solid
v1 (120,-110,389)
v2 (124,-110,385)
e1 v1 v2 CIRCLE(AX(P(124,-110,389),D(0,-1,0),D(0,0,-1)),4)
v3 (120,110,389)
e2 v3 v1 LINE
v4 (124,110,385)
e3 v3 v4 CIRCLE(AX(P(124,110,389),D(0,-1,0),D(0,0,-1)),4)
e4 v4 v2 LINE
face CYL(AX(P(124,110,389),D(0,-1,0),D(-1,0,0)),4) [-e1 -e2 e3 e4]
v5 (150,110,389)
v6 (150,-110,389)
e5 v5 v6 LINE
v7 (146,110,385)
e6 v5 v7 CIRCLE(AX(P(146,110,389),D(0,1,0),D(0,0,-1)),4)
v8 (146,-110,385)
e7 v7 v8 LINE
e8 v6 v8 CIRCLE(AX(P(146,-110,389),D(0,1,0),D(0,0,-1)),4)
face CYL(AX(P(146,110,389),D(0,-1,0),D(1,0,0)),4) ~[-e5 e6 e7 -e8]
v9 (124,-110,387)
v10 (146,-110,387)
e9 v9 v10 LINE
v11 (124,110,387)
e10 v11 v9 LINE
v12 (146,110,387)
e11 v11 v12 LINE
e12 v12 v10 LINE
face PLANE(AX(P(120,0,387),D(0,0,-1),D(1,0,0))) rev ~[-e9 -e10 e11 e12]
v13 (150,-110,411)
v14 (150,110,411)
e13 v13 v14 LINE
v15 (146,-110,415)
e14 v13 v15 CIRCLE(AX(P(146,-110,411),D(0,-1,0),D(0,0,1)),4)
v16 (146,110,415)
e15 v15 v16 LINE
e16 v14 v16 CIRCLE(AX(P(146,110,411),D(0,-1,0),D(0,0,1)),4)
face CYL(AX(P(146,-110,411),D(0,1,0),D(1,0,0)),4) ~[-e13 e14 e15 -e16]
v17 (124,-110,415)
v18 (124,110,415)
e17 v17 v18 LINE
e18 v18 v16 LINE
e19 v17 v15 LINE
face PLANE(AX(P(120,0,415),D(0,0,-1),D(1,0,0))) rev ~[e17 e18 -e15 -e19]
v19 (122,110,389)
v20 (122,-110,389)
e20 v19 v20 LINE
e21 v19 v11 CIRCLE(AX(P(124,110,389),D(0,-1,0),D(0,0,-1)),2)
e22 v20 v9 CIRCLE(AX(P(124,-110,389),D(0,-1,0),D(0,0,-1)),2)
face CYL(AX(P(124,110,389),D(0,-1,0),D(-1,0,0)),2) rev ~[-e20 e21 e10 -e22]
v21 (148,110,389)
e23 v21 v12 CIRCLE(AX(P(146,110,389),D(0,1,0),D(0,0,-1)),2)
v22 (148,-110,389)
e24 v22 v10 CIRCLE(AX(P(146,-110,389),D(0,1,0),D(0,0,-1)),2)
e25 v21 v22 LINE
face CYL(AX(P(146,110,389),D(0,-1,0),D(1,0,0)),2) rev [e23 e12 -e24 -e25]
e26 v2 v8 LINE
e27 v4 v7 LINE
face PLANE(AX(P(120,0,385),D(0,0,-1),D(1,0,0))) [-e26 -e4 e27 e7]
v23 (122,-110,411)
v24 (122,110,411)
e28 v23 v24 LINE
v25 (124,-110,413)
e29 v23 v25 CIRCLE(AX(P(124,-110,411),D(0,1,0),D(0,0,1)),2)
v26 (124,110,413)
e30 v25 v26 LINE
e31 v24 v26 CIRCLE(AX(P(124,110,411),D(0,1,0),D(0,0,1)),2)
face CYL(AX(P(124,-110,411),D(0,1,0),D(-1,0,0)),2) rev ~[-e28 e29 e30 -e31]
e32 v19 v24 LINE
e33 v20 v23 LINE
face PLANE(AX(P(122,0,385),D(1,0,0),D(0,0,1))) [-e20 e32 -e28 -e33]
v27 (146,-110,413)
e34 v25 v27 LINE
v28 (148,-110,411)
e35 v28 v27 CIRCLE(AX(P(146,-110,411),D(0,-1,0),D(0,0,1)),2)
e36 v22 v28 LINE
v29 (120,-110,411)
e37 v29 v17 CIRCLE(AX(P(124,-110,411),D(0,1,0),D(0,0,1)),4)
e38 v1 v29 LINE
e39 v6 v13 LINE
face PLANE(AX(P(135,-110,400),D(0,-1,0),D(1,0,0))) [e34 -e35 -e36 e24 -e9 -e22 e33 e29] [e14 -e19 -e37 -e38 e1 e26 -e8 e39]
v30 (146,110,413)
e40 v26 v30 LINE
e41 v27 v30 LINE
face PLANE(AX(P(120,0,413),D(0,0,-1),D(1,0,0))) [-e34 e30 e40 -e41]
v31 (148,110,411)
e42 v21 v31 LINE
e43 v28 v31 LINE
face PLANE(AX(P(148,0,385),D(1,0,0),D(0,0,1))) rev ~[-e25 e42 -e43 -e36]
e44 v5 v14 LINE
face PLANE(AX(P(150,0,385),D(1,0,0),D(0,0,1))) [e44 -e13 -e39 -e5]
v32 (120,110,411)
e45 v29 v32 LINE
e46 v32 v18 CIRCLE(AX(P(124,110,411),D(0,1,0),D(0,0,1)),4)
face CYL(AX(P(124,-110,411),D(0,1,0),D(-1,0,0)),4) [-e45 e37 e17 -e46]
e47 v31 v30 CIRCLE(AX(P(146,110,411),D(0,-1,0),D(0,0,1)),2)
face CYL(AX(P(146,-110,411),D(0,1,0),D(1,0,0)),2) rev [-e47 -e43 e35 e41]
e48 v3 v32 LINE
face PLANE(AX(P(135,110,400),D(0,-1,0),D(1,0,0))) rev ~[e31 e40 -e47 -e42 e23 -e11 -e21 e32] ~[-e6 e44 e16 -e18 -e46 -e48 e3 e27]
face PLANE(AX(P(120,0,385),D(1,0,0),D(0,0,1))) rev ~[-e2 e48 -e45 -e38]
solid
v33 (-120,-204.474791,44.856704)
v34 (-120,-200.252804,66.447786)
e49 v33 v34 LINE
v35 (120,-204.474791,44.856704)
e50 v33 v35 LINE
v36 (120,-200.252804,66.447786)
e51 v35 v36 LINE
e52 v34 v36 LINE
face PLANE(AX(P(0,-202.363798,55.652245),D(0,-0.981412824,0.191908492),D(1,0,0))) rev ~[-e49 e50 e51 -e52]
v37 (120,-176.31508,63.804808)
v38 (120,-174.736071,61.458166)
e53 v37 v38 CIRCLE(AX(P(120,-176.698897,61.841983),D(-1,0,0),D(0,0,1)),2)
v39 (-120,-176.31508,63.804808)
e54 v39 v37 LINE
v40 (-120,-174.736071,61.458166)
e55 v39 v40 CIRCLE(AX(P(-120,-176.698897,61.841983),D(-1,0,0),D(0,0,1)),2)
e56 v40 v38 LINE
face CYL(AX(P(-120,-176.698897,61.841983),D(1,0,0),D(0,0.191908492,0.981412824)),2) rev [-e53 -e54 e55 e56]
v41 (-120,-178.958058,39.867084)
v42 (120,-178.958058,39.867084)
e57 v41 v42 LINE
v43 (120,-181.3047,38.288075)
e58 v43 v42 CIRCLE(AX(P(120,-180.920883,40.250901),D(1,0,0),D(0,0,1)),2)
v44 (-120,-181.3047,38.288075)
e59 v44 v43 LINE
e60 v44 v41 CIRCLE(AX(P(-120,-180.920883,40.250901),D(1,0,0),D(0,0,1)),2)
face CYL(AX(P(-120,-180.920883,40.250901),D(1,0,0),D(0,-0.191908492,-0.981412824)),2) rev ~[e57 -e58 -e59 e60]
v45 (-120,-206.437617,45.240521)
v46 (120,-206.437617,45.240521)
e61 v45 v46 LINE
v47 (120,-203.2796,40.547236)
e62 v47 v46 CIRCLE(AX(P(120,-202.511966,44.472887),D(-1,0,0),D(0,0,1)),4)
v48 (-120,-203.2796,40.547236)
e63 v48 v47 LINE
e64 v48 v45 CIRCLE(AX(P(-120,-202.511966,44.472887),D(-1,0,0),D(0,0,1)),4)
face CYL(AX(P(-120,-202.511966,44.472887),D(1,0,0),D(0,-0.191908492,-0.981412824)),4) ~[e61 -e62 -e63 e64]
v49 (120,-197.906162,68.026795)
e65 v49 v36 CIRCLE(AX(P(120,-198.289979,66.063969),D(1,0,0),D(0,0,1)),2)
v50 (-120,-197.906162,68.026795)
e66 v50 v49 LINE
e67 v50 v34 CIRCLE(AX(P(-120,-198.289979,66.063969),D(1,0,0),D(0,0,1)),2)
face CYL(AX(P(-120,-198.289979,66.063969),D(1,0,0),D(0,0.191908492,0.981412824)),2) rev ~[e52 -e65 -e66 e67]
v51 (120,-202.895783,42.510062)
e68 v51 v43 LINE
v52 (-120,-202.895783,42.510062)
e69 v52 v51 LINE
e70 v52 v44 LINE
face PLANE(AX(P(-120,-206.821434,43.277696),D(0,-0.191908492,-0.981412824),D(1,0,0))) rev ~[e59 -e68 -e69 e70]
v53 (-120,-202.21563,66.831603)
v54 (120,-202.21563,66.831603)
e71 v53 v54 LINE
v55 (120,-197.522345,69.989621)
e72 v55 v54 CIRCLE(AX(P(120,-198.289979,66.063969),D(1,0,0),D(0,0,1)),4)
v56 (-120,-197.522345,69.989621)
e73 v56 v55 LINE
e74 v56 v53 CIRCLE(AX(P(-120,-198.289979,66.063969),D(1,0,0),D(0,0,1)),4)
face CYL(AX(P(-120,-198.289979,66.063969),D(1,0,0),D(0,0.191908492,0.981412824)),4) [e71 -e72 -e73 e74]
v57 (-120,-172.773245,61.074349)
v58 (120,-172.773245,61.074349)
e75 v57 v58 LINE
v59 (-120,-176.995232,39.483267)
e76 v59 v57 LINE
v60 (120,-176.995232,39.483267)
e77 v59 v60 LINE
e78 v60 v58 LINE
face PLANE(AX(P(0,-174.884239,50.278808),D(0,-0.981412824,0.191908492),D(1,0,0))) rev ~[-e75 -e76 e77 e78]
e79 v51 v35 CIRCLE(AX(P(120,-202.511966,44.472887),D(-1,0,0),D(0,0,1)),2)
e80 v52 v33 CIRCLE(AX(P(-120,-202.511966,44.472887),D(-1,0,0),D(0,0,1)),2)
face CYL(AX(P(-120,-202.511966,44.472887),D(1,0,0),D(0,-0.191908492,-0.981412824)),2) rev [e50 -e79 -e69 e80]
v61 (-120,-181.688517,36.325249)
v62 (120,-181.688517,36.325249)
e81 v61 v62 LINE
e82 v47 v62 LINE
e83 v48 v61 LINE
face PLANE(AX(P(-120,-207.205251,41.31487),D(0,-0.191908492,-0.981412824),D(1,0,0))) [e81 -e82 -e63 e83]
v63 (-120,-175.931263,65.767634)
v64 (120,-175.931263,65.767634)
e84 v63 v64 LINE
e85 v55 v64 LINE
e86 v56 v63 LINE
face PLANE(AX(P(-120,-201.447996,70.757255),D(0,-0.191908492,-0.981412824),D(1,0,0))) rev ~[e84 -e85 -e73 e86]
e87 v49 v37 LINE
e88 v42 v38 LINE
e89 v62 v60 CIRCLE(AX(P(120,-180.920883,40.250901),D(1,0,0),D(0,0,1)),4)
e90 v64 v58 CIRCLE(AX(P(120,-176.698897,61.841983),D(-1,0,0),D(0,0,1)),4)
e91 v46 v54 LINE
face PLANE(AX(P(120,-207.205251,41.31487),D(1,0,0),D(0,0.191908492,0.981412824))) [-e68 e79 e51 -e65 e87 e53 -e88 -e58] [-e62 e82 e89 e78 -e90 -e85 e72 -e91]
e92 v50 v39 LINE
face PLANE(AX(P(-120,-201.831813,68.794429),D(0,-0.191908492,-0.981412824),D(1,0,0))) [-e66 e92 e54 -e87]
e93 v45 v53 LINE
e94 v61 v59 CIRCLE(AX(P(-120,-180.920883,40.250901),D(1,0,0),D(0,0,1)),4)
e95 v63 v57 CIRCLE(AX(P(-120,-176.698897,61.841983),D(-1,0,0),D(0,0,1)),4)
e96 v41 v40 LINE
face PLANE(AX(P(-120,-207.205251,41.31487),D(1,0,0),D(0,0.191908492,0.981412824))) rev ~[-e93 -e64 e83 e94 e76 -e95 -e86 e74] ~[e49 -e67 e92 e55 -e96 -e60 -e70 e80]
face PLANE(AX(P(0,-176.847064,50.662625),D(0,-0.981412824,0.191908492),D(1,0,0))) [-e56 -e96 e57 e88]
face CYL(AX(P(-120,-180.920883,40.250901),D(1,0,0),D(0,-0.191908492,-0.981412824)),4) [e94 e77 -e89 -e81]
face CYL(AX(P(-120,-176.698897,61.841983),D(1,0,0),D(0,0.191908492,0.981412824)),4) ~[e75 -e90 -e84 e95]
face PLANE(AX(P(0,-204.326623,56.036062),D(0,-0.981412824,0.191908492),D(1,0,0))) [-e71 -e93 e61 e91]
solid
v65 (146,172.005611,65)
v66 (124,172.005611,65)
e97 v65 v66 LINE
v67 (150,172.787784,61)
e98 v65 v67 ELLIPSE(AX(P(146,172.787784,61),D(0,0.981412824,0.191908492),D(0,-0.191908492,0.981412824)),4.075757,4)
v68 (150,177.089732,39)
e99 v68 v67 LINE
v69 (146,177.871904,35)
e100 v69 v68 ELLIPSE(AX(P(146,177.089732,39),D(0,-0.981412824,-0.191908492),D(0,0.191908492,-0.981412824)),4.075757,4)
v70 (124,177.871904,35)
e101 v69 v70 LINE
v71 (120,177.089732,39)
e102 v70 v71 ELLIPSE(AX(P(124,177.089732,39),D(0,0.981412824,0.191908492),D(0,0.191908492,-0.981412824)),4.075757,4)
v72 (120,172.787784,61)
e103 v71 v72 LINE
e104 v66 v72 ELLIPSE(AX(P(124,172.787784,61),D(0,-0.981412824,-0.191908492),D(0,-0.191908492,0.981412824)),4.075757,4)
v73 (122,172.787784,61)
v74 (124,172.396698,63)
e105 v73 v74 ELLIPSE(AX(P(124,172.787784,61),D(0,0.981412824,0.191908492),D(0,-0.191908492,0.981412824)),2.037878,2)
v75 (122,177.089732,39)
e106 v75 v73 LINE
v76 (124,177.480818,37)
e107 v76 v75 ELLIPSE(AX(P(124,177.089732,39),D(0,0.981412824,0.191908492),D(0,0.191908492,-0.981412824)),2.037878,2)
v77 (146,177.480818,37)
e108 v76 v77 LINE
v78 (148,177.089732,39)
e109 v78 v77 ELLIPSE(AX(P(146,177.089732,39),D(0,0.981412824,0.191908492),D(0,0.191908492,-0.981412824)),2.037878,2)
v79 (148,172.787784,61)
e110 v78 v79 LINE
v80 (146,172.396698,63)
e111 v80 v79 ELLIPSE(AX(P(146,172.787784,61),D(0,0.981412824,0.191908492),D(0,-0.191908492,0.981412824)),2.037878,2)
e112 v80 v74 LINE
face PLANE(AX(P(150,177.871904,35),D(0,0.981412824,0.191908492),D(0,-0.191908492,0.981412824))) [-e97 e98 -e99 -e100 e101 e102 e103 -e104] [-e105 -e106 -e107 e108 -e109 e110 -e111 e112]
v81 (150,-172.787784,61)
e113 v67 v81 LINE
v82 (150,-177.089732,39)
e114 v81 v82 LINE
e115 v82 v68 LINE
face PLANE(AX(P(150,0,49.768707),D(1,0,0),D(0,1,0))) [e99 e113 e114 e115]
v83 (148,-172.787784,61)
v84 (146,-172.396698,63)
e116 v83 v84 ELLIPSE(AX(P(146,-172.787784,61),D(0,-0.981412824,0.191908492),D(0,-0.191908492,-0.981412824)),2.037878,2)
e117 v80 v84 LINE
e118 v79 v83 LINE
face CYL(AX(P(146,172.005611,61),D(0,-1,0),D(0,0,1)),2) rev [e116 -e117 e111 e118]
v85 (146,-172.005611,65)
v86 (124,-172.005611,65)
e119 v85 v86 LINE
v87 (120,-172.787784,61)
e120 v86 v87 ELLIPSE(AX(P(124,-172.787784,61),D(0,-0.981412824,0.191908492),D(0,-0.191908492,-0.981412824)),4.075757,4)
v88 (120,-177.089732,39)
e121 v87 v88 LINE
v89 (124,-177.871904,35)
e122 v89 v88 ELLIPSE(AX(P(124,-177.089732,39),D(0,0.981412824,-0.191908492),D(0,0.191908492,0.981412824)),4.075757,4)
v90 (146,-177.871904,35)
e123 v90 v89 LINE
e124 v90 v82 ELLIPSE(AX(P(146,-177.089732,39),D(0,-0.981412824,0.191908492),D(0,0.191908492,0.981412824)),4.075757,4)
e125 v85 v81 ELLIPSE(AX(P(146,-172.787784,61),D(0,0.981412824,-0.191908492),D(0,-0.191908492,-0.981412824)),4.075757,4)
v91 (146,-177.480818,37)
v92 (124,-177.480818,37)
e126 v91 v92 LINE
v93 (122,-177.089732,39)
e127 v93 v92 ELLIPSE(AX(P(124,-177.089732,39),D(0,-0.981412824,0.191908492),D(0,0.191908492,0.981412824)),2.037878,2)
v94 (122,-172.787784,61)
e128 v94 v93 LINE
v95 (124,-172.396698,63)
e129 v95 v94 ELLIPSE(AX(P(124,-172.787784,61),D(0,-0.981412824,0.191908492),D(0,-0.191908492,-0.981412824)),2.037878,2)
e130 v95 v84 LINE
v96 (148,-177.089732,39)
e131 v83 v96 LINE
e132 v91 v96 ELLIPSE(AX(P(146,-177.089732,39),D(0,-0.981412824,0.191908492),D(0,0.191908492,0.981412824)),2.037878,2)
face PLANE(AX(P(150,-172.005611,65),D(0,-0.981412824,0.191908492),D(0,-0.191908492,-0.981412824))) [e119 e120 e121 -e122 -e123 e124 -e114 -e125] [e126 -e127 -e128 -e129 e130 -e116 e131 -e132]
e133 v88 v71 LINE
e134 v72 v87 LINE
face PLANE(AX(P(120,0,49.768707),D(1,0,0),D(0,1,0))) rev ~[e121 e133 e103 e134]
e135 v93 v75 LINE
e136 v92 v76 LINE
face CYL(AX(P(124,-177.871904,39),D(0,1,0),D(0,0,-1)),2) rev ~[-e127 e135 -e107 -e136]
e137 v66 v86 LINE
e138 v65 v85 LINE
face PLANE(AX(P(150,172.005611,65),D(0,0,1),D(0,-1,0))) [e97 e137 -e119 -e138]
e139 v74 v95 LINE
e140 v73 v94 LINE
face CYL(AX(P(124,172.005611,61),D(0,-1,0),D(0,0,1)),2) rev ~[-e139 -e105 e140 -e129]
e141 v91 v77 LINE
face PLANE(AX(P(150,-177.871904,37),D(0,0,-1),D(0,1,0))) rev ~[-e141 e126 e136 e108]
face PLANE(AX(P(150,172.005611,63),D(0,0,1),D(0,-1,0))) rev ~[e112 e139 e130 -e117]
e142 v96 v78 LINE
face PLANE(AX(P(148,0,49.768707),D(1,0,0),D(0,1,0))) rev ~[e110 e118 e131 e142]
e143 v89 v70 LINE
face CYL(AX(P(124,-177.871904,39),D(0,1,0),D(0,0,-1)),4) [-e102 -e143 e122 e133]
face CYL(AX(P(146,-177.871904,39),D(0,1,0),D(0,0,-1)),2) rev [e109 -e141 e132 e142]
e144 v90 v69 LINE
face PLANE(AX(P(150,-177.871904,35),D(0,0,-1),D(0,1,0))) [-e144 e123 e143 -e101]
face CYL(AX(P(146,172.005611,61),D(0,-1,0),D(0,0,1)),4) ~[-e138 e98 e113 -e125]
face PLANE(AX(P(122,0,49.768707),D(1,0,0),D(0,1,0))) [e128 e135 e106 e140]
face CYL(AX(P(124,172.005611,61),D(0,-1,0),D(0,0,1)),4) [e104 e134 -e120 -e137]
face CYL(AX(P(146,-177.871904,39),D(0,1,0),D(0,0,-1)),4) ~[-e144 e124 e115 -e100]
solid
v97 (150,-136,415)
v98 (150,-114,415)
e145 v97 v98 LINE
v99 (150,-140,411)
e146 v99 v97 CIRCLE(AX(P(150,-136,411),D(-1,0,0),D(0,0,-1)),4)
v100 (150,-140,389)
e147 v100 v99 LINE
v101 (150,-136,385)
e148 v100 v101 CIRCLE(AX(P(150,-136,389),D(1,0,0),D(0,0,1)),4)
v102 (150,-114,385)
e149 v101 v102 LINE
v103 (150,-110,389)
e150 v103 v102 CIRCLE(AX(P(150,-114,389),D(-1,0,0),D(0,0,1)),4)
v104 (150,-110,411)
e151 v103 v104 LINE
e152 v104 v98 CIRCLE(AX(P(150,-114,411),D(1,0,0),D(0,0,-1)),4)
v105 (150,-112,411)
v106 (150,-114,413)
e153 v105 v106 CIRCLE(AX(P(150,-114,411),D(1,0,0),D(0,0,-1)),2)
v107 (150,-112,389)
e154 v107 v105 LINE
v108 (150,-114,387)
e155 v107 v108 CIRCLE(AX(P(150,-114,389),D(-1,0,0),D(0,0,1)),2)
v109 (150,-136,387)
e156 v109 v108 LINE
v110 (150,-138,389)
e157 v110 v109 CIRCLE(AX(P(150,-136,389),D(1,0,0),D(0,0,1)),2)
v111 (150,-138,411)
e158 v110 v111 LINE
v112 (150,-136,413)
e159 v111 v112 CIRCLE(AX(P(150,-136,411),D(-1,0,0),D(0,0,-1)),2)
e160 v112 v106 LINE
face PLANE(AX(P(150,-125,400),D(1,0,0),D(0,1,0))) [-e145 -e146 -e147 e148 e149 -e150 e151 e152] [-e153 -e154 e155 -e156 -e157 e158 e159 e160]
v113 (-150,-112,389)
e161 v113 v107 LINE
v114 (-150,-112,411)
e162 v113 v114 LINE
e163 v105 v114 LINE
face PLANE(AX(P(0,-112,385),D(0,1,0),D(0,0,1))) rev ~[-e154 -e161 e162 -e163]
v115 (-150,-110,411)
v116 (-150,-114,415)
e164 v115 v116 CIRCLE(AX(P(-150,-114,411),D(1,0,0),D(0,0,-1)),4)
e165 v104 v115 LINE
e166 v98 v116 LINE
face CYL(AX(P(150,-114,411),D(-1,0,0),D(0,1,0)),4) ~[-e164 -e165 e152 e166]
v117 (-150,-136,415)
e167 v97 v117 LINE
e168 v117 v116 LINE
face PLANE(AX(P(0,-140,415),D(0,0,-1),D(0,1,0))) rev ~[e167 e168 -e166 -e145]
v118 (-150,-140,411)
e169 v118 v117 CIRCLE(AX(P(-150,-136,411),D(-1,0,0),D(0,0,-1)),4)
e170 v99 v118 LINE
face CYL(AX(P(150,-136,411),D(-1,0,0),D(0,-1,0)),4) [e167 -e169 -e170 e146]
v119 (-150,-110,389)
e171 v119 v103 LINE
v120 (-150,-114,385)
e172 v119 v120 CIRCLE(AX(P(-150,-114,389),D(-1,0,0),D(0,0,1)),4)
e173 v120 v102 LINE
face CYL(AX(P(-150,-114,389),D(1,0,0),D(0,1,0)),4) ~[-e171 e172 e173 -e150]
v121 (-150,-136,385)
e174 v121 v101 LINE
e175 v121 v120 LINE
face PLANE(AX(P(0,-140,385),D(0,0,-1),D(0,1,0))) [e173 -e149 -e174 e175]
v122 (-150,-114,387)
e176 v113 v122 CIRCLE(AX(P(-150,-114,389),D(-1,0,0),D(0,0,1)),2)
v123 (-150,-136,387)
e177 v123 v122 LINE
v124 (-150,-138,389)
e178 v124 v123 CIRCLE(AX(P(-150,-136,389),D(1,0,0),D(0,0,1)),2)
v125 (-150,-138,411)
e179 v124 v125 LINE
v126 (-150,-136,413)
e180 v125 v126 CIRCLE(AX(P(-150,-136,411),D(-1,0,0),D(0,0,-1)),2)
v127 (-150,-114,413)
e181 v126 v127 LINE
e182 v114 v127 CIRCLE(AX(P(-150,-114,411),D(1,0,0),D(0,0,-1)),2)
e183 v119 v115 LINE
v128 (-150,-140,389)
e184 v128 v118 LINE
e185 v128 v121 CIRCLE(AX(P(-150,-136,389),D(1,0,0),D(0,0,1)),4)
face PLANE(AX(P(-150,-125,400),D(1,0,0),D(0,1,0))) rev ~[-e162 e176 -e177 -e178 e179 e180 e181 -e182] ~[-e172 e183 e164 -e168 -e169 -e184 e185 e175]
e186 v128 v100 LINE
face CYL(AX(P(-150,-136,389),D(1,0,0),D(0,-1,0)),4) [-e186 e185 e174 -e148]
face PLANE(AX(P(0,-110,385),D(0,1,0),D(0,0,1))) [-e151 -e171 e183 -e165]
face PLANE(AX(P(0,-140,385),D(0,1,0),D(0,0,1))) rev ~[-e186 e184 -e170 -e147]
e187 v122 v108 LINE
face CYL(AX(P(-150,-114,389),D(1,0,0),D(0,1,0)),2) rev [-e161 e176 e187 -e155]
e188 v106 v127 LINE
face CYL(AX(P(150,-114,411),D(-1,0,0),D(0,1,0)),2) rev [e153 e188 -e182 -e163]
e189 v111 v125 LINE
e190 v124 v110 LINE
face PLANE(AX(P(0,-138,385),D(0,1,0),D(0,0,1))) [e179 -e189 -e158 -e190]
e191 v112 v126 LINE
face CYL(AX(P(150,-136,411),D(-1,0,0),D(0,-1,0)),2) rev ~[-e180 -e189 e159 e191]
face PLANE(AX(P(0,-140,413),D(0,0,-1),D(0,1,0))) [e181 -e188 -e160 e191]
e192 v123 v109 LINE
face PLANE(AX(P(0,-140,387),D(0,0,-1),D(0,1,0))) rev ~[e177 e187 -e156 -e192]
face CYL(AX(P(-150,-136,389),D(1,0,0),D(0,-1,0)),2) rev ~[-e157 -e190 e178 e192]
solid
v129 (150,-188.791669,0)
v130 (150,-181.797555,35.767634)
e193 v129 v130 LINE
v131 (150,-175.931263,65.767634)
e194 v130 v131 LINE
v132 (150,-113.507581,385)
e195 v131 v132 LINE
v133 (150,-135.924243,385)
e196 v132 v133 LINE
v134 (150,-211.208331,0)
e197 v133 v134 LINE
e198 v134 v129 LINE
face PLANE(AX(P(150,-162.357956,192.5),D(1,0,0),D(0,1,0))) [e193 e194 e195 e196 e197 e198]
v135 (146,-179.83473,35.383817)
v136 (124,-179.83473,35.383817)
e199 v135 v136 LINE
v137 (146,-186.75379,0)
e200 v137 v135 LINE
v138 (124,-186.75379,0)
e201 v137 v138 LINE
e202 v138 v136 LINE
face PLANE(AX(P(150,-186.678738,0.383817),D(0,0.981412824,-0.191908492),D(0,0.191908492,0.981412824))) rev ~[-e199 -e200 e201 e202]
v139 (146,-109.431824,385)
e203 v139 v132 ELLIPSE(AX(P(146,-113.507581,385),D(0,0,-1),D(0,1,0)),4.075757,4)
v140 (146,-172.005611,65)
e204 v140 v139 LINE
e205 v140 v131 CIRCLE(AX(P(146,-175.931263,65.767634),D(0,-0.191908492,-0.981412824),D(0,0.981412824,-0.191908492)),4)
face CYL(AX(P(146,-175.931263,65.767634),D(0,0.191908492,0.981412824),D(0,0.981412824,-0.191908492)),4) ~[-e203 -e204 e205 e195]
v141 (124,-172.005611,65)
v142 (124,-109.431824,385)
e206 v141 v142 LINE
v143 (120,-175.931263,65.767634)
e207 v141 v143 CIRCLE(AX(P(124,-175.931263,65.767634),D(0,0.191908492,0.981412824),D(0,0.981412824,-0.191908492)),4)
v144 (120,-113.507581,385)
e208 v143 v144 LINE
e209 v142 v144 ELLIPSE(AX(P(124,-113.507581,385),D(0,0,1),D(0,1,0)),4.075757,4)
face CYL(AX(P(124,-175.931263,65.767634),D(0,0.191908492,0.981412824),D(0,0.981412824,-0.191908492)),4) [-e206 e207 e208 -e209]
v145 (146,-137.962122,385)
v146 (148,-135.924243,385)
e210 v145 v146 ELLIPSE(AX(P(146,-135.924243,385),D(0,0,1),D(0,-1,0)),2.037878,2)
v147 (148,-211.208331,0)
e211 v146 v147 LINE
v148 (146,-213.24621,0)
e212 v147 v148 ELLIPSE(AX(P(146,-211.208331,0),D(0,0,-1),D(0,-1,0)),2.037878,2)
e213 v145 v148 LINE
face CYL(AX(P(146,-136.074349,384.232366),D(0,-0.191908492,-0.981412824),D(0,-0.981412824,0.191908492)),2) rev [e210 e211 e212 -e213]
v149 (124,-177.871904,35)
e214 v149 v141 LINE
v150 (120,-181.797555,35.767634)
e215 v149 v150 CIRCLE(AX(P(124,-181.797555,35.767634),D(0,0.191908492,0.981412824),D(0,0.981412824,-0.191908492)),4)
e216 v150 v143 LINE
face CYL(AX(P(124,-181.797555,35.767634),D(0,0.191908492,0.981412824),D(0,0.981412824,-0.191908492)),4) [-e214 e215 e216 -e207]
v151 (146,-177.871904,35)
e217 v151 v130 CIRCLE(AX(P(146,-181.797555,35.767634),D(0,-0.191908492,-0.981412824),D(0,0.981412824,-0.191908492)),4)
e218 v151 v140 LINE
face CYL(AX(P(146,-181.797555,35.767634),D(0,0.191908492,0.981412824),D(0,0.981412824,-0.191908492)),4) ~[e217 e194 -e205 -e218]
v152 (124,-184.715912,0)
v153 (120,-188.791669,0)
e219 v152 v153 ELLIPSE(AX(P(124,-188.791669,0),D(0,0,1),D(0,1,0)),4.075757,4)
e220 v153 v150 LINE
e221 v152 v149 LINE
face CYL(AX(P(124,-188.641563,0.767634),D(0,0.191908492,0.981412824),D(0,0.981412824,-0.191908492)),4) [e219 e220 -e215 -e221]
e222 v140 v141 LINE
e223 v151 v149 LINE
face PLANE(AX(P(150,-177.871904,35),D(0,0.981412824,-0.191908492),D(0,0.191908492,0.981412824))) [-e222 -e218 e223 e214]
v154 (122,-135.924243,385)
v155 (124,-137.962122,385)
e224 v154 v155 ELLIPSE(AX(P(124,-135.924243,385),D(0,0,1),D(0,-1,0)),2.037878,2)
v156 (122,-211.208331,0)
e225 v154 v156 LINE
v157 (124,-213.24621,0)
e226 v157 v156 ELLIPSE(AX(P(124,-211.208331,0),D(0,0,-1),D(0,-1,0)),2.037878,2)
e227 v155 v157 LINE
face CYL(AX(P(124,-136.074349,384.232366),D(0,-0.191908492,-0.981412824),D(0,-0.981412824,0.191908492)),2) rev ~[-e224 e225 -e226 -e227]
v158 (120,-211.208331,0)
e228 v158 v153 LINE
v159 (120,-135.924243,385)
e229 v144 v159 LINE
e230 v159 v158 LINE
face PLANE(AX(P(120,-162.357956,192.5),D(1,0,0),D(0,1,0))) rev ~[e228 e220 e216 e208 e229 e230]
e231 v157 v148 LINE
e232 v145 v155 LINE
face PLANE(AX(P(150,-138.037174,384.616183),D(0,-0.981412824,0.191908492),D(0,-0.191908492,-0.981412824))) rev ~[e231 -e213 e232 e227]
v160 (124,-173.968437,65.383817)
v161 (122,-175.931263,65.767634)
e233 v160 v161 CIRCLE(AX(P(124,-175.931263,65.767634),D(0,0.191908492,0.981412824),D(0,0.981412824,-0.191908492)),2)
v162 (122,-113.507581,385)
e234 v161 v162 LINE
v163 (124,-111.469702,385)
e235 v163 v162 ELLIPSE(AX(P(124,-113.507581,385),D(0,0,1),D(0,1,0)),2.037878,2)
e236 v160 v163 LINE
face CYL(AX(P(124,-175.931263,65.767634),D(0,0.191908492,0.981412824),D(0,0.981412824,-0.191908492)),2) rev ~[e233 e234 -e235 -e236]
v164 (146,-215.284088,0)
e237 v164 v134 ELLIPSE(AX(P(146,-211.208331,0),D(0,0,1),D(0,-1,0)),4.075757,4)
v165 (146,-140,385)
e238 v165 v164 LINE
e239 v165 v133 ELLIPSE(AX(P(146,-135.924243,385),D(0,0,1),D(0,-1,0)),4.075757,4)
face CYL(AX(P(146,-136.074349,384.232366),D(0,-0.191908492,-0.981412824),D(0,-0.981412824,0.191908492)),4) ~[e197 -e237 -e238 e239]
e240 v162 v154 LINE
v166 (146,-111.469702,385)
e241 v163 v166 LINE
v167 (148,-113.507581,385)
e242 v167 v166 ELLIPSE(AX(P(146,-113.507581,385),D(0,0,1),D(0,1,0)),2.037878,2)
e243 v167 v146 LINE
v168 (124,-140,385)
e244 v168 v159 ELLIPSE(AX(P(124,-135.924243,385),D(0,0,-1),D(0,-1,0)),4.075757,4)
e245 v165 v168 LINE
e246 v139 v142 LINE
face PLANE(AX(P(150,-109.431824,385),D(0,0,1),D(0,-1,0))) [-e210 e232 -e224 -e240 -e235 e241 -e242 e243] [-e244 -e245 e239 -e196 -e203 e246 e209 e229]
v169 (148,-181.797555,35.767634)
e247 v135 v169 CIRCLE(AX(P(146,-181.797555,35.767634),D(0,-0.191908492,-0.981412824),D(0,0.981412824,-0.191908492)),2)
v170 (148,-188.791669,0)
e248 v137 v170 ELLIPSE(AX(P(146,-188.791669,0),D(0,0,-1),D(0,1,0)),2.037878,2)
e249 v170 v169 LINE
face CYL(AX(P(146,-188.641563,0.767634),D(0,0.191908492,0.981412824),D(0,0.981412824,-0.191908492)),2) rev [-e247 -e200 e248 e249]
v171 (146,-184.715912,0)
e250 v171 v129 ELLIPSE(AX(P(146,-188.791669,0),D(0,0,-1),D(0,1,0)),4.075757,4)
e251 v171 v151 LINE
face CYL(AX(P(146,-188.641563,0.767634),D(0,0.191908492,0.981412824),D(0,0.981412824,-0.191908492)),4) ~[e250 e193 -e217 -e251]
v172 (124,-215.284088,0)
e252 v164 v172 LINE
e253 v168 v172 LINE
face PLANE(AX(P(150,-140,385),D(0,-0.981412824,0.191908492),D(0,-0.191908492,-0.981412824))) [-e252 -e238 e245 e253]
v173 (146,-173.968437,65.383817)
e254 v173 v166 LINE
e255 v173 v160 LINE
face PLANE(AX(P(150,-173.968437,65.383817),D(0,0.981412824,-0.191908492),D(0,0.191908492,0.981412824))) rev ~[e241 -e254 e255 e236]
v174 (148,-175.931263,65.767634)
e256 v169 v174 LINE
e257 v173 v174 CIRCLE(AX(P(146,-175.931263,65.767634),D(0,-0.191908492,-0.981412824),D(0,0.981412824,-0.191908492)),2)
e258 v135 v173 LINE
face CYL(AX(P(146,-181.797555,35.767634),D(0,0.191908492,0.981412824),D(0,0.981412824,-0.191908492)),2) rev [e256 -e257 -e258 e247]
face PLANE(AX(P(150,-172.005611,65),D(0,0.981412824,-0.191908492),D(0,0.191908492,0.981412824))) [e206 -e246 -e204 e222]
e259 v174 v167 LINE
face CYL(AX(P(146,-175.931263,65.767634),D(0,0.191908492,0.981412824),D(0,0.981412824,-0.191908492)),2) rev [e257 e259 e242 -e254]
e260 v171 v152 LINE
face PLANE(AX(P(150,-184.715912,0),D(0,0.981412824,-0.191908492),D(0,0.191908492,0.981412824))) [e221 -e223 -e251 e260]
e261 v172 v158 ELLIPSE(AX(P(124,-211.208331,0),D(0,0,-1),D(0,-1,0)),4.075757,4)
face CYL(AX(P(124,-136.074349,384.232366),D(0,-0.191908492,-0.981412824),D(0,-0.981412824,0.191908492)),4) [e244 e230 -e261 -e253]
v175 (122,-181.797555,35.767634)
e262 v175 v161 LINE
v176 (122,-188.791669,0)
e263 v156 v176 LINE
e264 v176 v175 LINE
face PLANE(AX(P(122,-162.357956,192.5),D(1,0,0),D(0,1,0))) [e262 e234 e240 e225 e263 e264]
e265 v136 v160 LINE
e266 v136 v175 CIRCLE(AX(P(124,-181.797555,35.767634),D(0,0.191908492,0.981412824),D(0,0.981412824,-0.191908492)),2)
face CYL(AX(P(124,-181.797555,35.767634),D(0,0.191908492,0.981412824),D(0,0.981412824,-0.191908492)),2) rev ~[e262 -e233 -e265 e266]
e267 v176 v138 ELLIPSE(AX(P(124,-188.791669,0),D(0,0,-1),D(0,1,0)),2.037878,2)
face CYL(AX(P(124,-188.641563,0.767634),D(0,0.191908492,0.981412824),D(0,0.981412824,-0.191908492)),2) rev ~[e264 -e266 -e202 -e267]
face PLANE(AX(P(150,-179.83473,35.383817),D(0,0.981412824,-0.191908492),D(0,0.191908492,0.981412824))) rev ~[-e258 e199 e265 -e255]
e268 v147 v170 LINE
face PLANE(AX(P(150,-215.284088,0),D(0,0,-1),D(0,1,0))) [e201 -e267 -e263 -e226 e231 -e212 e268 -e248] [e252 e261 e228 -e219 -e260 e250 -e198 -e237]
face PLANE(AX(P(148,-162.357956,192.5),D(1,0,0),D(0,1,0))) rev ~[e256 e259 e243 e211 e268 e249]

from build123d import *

# Parameters (mm, degrees)
F3_W      = 30
F3_H      = 30
F4_DEPTH  = 150
F5_R      = 4
F6_T      = -2
F7_W      = 30
F7_H      = 30
F8_DEPTH  = 110
F9_R      = 4
F10_T     = -2
F12_DEPTH = 30
F13_R     = 4
F14_T     = -2
F15_DEPTH = 30
F16_R     = 4
F17_T     = -2
F18_W     = 240
F18_H     = 30
F19_DEPTH = 30
F20_R     = 4
F21_T     = -2


with BuildPart() as f4:
    # F3 (on Right) → F4 (new body, symmetric)
    with BuildSketch(Plane.YZ):
        with Locations((-125, 400)):
            Rectangle(F3_W, F3_H)
    extrude(amount=F4_DEPTH, both=True)

    # F5
    f5_edges = [f4.edges().sort_by_distance(p)[0] for p in [
        (0, -140, 415),
        (0, -110, 415),
        (0, -140, 385),
        (0, -110, 385),
    ]]
    fillet(f5_edges, radius=F5_R)

    # F6
    f6_openings = [f4.faces().sort_by_distance(p)[0] for p in [
        (150, -125, 400),
        (-150, -125, 400),
    ]]
    offset(amount=F6_T, openings=f6_openings)


with BuildPart() as f8:
    # F7 (on Front) → F8 (new body, symmetric)
    with BuildSketch(Plane.XZ):
        with Locations((135, 400)):
            Rectangle(F7_W, F7_H)
    extrude(amount=F8_DEPTH, both=True)

    # F9
    f9_edges = [f8.edges().sort_by_distance(p)[0] for p in [
        (150, 0, 415),
        (120, 0, 415),
        (150, 0, 385),
        (120, 0, 385),
    ]]
    fillet(f9_edges, radius=F9_R)

    # F10
    f10_openings = [f8.faces().sort_by_distance(p)[0] for p in [
        (135, 110, 400),
        (135, -110, 400),
    ]]
    offset(amount=F10_T, openings=f10_openings)


with BuildPart() as f12:
    # F11 (on face) → F12 (new body)
    with BuildSketch(Plane.YZ.offset(150)):
        Polygon((-109.4318239247, 385), (-140, 385), (-215.2840880376, 0), (-184.7159119624, 0), (-177.8719039589, 35), (-172.0056113846, 65), align=None)
    extrude(amount=-F12_DEPTH)

    # F13
    f13_edges = [f12.edges().sort_by_distance(p)[0] for p in [
        (150, -177.642044, 192.5),
        (150, -147.073868, 192.5),
        (120, -177.642044, 192.5),
        (120, -147.073868, 192.5),
    ]]
    fillet(f13_edges, radius=F13_R)

    # F14
    f14_openings = [f12.faces().sort_by_distance(p)[0] for p in [
        (135, -124.715912, 385),
        (135, -200, 0),
    ]]
    offset(amount=F14_T, openings=f14_openings)


with BuildPart() as f15:
    # F11 (on face) → F15 (new body)
    with BuildSketch(Plane.YZ.offset(150)):
        Polygon((172.0056113846, 65), (-172.0056113846, 65), (-177.8719039589, 35), (177.871903959, 35), align=None)
    extrude(amount=-F15_DEPTH)

    # F16
    f16_edges = [f15.edges().sort_by_distance(p)[0] for p in [
        (150, 0, 65),
        (120, 0, 65),
        (150, 0, 35),
        (120, 0, 35),
    ]]
    fillet(f16_edges, radius=F16_R)

    # F17
    f17_openings = [f15.faces().sort_by_distance(p)[0] for p in [
        (135, -174.938758, 50),
        (135, 174.938758, 50),
    ]]
    offset(amount=F17_T, openings=f17_openings)


with BuildPart() as f19:
    # F18 (on face) → F19 (new body)
    with BuildSketch(Plane(origin=(0, -207.355418495, 40.5469183924), x_dir=(1, 0, 0), z_dir=(0, -0.9814128238, 0.191908492))):
        with Locations((0, 15.7824960465)):
            Rectangle(F18_W, F18_H)
    extrude(amount=-F19_DEPTH)

    # F20
    f20_edges = [f19.edges().sort_by_distance(p)[0] for p in [
        (0, -201.447996, 70.757255),
        (0, -207.205251, 41.31487),
        (0, -177.762866, 35.557615),
        (0, -172.005611, 65),
    ]]
    fillet(f20_edges, radius=F20_R)

    # F21
    f21_openings = [f19.faces().sort_by_distance(p)[0] for p in [
        (-120, -189.605431, 53.157435),
        (120, -189.605431, 53.157435),
    ]]
    offset(amount=F21_T, openings=f21_openings)


solid = Compound([f4.part, f8.part, f12.part, f15.part, f19.part])
